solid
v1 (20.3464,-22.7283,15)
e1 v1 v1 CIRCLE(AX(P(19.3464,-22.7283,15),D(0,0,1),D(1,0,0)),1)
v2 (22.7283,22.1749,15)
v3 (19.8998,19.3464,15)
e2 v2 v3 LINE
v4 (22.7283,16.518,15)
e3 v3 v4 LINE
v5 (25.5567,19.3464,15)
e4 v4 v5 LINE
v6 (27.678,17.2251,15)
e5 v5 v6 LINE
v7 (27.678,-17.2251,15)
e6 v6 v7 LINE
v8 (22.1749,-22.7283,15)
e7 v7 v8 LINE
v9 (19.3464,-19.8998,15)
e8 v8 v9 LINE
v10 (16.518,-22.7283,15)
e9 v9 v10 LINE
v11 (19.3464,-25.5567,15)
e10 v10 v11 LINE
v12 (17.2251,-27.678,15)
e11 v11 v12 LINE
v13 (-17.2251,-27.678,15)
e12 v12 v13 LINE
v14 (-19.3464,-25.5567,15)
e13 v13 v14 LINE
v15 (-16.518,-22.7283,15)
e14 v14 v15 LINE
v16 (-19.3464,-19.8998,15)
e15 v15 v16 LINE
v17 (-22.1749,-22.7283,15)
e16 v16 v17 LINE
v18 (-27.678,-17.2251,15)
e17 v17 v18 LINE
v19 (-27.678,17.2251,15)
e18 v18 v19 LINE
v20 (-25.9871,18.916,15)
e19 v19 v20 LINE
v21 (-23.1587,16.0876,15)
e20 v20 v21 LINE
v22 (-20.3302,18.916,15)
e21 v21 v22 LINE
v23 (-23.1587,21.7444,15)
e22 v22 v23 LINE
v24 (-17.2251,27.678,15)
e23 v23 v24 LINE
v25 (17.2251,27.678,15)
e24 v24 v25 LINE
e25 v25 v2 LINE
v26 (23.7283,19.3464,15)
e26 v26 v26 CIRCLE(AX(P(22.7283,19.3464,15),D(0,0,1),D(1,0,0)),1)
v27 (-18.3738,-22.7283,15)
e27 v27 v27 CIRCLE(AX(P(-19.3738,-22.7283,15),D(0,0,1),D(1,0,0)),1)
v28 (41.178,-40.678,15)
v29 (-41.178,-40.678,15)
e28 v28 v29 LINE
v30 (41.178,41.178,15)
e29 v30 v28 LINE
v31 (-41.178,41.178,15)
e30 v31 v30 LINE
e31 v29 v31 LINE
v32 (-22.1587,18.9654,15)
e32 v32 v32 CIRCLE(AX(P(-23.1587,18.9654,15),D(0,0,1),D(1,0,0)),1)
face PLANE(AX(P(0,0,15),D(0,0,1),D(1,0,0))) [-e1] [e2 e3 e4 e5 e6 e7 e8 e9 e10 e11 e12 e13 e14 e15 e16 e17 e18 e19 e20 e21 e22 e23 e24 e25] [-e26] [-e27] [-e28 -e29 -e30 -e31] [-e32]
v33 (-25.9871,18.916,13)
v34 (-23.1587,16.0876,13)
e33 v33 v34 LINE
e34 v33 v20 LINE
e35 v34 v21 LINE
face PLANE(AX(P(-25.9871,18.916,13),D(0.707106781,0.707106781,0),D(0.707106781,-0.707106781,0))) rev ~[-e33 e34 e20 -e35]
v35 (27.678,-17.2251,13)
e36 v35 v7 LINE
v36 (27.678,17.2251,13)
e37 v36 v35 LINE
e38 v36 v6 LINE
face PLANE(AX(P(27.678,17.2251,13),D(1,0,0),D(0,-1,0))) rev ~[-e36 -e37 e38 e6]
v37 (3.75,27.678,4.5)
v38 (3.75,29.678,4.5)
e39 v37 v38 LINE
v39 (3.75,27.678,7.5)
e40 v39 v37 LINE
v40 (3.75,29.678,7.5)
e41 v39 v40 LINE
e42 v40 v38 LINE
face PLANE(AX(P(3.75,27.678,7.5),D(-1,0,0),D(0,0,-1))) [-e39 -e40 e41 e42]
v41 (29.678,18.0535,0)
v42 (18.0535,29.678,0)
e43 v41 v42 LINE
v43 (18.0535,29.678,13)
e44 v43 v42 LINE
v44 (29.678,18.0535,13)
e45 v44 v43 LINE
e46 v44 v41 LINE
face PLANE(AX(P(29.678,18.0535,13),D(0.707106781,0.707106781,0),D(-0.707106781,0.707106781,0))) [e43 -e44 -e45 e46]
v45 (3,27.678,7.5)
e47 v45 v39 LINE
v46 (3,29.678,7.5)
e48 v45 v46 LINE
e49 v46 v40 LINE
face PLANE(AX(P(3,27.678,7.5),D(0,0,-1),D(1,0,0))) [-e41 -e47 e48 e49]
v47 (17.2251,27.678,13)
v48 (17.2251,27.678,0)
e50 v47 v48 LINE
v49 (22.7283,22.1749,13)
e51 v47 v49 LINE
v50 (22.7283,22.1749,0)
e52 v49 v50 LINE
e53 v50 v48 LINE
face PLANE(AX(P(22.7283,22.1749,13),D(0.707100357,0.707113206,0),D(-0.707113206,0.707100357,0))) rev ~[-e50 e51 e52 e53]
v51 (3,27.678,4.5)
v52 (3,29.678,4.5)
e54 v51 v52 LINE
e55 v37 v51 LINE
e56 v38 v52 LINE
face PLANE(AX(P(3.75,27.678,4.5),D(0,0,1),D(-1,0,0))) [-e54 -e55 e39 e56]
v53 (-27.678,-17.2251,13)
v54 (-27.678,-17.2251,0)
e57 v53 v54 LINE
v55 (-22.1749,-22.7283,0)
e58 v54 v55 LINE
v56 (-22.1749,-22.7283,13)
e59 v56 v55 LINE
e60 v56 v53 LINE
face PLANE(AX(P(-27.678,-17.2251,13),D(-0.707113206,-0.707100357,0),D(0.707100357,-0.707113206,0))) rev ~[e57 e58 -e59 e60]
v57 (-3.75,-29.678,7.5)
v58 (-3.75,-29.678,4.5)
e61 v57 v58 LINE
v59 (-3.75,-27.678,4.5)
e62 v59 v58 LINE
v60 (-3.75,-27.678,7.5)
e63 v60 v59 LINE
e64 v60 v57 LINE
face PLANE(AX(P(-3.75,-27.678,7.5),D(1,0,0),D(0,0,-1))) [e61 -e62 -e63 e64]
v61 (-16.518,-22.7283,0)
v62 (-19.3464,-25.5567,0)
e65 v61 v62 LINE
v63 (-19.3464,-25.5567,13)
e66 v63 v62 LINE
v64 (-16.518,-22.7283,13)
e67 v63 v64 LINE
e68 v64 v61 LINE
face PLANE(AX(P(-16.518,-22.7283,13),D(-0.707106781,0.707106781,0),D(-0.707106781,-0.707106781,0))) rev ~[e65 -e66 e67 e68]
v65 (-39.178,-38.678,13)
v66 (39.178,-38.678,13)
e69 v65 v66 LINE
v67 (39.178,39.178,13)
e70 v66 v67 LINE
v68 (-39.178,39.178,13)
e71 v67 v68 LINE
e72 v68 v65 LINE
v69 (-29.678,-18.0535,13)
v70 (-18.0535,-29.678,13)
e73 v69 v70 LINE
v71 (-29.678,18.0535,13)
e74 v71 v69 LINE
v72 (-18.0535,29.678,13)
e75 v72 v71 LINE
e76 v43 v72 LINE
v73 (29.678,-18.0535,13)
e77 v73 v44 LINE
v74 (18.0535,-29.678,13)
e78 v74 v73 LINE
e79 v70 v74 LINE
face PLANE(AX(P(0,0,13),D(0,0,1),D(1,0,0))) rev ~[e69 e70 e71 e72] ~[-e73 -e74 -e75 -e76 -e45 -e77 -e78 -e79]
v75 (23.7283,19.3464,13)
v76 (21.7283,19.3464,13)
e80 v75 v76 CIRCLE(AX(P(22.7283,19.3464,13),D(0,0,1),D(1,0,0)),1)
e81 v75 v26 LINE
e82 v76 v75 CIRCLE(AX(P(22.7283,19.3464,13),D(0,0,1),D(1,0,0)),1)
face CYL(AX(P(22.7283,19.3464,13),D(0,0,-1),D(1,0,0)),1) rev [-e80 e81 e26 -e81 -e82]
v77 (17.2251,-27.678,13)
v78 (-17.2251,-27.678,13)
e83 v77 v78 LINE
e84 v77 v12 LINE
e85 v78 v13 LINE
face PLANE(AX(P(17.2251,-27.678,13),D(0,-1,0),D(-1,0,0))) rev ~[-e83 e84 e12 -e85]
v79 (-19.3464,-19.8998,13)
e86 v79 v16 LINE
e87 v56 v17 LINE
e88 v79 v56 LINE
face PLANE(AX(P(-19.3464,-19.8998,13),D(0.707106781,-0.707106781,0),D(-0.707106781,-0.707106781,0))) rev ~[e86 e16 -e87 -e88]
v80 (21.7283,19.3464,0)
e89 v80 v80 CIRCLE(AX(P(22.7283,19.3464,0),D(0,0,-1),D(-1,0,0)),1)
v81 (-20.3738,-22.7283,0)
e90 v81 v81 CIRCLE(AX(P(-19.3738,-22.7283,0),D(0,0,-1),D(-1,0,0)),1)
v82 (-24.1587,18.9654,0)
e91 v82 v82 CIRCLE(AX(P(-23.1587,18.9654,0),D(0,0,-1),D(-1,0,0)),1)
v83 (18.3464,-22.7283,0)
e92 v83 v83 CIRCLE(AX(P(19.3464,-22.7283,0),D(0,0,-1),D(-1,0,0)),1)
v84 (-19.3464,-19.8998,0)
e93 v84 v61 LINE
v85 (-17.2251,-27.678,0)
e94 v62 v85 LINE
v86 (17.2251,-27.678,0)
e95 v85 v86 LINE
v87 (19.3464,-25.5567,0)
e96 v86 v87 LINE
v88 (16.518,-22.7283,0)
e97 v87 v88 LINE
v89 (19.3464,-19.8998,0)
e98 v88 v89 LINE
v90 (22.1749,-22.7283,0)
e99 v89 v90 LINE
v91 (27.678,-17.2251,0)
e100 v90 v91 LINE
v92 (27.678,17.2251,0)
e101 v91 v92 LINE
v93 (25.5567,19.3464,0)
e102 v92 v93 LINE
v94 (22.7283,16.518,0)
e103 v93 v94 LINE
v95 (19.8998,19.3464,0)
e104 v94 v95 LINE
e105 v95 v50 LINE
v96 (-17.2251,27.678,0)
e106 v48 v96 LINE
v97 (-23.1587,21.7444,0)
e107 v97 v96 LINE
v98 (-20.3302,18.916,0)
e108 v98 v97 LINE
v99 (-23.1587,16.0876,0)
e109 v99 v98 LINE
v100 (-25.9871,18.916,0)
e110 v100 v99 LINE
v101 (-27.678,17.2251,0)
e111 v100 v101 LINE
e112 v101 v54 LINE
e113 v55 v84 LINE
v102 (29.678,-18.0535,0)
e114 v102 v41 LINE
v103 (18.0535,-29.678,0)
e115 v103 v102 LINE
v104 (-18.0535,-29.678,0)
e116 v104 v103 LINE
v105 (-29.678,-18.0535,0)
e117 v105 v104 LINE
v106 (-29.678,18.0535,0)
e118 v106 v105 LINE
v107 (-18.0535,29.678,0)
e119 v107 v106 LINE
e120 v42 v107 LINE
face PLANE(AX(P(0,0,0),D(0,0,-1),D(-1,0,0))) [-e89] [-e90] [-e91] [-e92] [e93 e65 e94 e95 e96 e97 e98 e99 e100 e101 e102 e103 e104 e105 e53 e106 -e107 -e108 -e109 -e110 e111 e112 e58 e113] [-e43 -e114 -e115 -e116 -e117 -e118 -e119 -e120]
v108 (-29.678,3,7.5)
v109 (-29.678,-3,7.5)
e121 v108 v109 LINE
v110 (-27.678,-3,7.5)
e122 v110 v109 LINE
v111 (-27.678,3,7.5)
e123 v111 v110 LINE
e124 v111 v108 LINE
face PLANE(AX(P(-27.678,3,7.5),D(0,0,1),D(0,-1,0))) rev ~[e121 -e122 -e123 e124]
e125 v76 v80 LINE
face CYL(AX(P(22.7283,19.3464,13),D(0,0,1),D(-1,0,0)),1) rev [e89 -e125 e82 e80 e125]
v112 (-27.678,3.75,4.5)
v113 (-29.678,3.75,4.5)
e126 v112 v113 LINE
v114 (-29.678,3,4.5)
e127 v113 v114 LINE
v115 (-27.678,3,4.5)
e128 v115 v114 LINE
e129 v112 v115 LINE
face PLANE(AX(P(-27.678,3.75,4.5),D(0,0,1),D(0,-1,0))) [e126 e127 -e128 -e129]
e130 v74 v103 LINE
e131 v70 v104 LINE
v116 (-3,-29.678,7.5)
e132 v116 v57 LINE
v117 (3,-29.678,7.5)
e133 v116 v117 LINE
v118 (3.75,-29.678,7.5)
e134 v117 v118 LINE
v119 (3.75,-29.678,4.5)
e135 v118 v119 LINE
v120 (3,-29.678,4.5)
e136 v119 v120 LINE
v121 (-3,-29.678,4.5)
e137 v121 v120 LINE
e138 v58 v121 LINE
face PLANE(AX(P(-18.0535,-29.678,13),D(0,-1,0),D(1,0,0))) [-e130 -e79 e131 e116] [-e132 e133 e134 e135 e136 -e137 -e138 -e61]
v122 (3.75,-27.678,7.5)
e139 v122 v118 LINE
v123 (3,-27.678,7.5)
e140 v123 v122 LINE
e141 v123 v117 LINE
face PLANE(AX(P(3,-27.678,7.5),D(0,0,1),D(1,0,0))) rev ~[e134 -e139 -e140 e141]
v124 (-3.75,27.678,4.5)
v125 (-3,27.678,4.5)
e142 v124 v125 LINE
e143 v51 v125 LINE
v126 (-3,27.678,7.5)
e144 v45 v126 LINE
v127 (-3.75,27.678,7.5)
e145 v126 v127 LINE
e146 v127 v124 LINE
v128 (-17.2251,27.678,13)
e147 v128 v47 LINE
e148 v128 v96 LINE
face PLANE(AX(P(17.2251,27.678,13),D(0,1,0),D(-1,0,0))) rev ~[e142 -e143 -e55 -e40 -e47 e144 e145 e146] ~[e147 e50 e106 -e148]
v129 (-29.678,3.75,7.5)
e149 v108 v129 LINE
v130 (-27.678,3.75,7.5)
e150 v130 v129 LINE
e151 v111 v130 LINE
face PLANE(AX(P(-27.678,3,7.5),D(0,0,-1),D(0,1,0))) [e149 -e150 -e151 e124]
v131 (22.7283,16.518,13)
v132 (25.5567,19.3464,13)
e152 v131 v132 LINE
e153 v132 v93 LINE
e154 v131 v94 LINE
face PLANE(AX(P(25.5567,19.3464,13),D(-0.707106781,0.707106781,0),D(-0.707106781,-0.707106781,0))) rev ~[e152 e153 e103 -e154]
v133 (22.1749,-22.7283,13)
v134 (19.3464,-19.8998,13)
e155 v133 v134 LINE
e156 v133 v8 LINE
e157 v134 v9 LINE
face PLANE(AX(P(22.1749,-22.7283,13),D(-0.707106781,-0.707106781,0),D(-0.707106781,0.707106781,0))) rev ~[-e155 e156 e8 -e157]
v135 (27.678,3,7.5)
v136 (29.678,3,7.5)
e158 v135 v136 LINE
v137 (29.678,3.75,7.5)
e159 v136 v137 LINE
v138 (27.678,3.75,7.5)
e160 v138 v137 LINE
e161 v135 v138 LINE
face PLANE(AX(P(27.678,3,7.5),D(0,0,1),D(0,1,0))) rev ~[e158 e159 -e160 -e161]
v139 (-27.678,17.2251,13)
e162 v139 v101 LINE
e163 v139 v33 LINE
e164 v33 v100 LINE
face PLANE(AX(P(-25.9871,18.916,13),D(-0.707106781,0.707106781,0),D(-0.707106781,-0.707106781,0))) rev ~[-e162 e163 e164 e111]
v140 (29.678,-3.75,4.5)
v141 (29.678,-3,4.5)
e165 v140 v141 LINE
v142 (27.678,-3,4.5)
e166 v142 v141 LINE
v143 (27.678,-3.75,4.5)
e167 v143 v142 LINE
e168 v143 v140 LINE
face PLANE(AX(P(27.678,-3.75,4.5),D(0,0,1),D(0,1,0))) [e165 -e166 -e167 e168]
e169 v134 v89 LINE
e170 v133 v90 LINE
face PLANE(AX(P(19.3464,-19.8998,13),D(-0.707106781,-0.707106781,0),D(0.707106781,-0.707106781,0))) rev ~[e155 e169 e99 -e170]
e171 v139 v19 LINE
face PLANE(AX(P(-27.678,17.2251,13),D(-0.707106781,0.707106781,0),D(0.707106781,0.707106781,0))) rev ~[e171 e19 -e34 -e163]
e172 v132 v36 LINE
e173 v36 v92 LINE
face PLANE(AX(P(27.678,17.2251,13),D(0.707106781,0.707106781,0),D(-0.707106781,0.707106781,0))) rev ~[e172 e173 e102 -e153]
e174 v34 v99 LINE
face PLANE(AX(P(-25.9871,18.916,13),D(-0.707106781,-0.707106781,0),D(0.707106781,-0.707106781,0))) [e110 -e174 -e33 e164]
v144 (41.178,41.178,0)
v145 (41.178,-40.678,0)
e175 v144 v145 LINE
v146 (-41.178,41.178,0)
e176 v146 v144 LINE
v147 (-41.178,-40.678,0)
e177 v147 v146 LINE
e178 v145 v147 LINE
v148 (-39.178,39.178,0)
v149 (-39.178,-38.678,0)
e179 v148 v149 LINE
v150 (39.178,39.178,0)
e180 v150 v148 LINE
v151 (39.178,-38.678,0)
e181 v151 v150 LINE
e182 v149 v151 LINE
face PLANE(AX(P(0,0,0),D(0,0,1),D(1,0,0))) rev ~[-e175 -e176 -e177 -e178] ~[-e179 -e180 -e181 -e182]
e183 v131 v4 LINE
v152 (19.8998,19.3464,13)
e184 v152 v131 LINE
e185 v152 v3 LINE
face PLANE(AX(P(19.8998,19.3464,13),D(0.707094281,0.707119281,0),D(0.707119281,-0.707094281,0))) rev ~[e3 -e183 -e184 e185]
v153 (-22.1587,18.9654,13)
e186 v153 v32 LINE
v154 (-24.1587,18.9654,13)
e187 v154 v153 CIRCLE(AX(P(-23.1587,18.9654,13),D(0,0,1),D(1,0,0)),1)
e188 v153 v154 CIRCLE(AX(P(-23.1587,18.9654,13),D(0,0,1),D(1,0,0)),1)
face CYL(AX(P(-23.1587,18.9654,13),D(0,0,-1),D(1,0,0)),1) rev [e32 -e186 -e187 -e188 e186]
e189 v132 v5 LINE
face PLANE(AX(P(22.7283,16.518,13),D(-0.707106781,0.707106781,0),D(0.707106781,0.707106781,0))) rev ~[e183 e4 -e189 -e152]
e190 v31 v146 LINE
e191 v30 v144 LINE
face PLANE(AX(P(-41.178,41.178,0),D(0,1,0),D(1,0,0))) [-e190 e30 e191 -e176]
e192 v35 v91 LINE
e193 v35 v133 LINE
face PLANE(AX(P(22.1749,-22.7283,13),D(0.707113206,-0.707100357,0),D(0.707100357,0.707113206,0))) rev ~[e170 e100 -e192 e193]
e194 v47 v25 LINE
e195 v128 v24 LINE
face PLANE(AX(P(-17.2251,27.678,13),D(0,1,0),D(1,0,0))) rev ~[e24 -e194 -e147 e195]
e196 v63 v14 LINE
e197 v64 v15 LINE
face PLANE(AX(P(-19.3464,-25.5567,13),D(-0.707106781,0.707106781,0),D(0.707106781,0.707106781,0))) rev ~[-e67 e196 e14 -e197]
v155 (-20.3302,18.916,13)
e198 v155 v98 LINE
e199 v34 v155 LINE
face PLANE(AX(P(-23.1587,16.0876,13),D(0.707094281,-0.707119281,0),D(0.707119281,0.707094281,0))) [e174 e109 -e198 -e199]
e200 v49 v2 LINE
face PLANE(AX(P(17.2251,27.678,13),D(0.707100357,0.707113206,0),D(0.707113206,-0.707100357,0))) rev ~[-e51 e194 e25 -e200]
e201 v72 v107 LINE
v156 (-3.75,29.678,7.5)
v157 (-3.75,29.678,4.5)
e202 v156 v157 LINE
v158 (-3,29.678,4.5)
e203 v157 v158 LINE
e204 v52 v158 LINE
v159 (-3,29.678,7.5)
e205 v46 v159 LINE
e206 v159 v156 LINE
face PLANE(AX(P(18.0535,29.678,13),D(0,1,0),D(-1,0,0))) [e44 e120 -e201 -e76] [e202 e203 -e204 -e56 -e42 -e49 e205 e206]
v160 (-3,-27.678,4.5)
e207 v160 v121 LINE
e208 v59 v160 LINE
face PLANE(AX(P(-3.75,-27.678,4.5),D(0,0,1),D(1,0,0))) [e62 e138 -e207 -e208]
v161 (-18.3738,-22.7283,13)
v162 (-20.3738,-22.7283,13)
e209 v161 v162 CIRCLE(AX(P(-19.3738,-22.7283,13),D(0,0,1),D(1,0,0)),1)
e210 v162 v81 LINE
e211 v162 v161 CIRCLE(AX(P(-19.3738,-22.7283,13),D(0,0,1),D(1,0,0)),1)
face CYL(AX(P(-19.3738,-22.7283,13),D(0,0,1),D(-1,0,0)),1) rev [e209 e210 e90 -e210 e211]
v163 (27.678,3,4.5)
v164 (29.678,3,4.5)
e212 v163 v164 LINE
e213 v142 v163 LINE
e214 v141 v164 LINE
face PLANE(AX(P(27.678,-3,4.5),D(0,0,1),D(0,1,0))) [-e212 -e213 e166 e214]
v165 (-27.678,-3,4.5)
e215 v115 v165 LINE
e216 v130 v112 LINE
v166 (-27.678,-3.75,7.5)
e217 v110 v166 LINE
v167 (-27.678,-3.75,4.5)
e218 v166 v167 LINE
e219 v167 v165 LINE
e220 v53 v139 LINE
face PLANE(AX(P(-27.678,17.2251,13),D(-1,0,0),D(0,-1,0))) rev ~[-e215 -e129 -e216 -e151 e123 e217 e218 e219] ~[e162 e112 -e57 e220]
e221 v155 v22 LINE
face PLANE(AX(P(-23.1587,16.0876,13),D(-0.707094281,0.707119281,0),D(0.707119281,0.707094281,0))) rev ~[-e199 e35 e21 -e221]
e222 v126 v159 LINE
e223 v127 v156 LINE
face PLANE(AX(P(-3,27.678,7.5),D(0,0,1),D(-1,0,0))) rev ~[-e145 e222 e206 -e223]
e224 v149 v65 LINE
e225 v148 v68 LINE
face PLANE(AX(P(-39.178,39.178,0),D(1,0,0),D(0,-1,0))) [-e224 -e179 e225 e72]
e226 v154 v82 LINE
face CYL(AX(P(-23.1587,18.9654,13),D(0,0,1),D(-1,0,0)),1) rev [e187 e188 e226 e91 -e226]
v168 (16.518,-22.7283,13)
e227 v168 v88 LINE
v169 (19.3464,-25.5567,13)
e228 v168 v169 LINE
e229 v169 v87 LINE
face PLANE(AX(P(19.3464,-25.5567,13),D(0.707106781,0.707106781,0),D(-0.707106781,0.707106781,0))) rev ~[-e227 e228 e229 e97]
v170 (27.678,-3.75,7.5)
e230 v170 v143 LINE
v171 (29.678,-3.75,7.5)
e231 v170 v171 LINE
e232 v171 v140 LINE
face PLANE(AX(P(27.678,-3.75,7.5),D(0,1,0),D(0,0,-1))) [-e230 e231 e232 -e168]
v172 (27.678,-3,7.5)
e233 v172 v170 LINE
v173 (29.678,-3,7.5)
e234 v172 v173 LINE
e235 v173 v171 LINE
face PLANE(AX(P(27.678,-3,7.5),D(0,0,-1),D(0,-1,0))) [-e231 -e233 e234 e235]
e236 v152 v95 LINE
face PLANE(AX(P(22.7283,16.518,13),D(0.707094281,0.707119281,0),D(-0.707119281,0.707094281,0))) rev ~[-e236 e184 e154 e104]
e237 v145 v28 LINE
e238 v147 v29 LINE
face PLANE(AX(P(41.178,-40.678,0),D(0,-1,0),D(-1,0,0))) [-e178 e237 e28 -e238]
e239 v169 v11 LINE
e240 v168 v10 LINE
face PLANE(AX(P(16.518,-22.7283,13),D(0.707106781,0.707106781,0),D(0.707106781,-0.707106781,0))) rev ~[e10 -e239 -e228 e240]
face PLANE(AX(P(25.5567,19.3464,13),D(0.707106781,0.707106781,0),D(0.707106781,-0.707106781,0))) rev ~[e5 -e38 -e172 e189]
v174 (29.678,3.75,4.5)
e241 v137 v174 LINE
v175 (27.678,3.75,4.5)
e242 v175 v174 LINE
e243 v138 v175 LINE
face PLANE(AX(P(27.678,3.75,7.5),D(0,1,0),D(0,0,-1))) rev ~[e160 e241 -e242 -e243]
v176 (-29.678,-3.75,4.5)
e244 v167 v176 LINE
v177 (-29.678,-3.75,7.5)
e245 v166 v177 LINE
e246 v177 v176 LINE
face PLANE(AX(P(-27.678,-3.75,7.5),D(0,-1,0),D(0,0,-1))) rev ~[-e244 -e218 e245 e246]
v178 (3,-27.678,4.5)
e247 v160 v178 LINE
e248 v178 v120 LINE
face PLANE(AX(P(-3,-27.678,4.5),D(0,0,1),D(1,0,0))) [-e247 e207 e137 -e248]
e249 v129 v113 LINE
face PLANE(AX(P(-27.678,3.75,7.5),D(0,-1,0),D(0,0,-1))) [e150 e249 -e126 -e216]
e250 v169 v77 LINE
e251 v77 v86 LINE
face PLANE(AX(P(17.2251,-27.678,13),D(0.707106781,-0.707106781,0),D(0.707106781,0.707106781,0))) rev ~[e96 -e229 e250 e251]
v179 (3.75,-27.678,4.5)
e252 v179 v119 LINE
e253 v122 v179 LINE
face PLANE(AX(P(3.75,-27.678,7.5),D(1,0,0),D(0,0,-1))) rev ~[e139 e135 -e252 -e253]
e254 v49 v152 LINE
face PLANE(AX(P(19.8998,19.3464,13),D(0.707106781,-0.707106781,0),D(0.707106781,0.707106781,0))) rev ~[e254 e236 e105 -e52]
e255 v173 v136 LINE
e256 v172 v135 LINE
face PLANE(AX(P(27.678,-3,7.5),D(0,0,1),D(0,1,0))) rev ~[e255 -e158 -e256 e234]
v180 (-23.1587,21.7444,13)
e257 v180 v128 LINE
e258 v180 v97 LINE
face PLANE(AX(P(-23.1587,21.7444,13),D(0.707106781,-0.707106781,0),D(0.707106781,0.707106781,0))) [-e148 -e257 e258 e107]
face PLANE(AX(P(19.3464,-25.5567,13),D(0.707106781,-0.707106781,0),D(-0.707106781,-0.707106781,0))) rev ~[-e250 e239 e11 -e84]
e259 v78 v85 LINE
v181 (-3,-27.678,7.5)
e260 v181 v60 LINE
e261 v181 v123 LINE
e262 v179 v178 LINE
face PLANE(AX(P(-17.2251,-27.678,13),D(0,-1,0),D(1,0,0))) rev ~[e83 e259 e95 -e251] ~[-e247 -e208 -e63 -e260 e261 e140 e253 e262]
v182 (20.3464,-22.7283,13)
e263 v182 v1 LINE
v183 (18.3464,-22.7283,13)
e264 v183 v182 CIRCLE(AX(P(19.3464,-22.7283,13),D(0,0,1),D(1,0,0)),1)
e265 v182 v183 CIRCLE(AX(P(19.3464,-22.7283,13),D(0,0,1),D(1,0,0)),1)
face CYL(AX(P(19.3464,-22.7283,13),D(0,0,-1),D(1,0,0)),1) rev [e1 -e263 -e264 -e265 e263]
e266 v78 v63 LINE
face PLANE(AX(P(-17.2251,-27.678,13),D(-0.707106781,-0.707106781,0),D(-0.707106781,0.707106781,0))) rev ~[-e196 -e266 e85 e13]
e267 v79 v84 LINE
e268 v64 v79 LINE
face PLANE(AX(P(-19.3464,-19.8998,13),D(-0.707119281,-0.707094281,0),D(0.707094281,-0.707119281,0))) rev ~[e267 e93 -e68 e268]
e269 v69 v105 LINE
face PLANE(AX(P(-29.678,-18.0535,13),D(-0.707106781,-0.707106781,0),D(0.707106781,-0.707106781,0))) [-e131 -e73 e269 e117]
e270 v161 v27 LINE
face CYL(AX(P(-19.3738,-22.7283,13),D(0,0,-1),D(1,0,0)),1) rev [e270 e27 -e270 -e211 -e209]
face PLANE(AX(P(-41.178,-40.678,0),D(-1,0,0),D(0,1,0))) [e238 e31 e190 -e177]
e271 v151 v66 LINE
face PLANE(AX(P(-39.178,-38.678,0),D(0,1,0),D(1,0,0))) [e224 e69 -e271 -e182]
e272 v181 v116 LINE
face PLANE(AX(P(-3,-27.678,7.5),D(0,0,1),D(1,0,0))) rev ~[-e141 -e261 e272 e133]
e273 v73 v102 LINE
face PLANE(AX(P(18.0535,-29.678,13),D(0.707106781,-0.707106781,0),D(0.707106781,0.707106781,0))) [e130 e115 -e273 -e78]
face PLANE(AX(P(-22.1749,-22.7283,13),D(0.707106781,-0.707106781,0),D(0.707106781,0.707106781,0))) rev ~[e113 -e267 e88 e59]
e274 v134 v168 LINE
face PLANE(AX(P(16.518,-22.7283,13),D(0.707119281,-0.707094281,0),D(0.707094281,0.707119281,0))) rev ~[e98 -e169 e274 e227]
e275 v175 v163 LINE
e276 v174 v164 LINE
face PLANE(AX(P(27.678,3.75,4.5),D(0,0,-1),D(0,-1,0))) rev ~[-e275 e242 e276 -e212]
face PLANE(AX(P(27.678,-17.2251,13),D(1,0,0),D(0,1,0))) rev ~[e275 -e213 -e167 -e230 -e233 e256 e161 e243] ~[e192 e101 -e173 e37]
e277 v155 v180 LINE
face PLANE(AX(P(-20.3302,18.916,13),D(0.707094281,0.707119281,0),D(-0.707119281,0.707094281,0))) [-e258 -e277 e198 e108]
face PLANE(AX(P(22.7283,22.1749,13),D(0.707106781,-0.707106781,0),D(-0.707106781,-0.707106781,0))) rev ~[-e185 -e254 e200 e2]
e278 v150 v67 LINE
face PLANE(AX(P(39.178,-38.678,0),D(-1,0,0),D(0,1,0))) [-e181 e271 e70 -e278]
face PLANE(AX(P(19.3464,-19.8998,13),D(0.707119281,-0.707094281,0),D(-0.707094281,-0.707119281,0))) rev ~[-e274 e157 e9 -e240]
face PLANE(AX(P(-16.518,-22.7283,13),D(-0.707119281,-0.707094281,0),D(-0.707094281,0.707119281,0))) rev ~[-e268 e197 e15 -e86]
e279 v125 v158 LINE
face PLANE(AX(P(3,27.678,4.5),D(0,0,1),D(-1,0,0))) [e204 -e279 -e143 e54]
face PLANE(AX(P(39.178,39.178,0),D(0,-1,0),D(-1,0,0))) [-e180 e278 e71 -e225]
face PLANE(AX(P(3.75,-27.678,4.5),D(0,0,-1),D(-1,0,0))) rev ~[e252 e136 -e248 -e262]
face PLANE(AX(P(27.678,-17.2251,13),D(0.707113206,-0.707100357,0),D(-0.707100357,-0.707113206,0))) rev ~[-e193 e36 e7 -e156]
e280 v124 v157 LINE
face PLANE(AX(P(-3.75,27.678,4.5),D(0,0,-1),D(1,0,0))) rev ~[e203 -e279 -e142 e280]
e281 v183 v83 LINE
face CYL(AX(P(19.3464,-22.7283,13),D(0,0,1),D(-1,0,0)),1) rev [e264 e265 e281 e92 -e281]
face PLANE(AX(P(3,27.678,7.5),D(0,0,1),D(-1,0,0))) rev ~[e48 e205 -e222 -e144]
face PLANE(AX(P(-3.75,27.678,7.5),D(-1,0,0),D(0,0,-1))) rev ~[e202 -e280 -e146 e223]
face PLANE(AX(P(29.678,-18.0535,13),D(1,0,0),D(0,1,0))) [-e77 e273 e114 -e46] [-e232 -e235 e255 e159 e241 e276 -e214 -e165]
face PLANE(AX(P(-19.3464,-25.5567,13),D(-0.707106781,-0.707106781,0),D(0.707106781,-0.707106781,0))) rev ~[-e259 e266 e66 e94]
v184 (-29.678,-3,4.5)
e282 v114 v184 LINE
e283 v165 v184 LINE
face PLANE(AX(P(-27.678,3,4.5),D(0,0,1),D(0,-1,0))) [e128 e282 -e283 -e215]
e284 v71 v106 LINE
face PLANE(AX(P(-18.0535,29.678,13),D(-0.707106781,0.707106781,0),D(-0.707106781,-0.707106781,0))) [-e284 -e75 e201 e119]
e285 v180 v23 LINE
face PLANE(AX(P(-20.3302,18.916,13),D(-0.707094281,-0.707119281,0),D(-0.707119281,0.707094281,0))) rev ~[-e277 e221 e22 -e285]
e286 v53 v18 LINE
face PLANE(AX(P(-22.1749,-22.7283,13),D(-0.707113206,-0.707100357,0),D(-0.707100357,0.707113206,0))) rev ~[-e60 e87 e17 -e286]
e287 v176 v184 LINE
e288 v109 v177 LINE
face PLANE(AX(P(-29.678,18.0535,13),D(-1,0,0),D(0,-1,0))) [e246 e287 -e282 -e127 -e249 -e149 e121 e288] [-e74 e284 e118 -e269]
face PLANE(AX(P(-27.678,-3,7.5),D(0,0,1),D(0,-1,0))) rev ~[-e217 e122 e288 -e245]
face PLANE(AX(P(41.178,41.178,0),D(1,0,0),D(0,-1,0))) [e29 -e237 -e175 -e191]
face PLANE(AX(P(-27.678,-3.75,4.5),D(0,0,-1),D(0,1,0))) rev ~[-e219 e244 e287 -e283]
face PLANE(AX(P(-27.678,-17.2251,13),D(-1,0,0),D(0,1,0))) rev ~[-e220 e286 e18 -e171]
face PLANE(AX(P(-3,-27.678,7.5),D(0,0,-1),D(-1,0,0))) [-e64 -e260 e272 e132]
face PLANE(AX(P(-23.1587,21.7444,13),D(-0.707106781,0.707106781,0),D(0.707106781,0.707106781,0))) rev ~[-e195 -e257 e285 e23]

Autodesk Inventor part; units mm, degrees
ref_plane "YZ Plane" through (0, 0, 0) normal (1, 0, 0) x (0, 1, 0)
ref_plane "XZ Plane" through (0, 0, 0) normal (0, 1, 0) x (-1, 0, 0)
sketch "Эскиз1" plane through (0, 0, 0) normal (0, 0, 1) x (1, 0, 0)
  circle A0 centre (0, 31.678) radius 1.5 construction
  circle A1 centre (31.678, 0) radius 1.5 construction
  circle A2 centre (-31.678, 0) radius 1.5 construction
  circle A3 centre (0, -31.678) radius 1.5 construction
  line L0 (21.7815, 38.678) -> (-21.7815, 38.678) construction
  line L1 (-21.7815, 38.678) -> (-38.678, 21.7815) construction
  line L2 (-38.678, 21.7815) -> (-38.678, -21.7815) construction
  line L3 (-38.678, -21.7815) -> (-21.7815, -38.678) construction
  line L4 (-21.7815, -38.678) -> (21.7815, -38.678) construction
  line L5 (21.7815, -38.678) -> (38.678, -21.7815) construction
  line L6 (38.678, -21.7815) -> (38.678, 21.7815) construction
  line L7 (38.678, 21.7815) -> (21.7815, 38.678) construction
  line L8 (17.2251, 27.678) -> (22.7283, 22.1749) construction
  line L9 (22.7283, 22.1749) -> (19.8998, 19.3464) construction
  line L10 (19.8998, 19.3464) -> (22.7283, 16.518) construction
  line L11 (22.7283, 16.518) -> (25.5567, 19.3464) construction
  line L12 (25.5567, 19.3464) -> (27.678, 17.2251) construction
  line L13 (27.678, 17.2251) -> (27.678, -17.2251) construction
  line L14 (27.678, -17.2251) -> (22.1749, -22.7283) construction
  line L15 (22.1749, -22.7283) -> (19.3464, -19.8998) construction
  line L16 (19.3464, -19.8998) -> (16.518, -22.7283) construction
  line L17 (16.518, -22.7283) -> (19.3464, -25.5567) construction
  line L18 (19.3464, -25.5567) -> (17.2251, -27.678) construction
  line L19 (17.2251, -27.678) -> (-17.2251, -27.678) construction
  line L20 (-17.2251, -27.678) -> (-19.3464, -25.5567) construction
  line L21 (-19.3464, -25.5567) -> (-16.518, -22.7283) construction
  line L22 (-16.518, -22.7283) -> (-19.3464, -19.8998) construction
  line L23 (-19.3464, -19.8998) -> (-22.1749, -22.7283) construction
  line L24 (-22.1749, -22.7283) -> (-27.678, -17.2251) construction
  line L25 (-27.678, -17.2251) -> (-27.678, 17.2251) construction
  line L26 (-27.678, 17.2251) -> (-25.9871, 18.916) construction
  line L27 (-17.2251, 27.678) -> (17.2251, 27.678) construction
  circle A4 centre (-5, -30.678) radius 1.5 construction
  circle A5 centre (-30.678, 5) radius 1.5 construction
  circle A6 centre (5, 30.678) radius 1.5 construction
  circle A7 centre (30.678, -5) radius 1.5 construction
  line L28 (38.678, 38.678) -> (-38.678, 38.678) construction
  line L29 (-38.678, 38.678) -> (-38.678, -38.178) construction
  line L30 (-38.678, -38.178) -> (38.678, -38.178) construction
  line L31 (38.678, -38.178) -> (38.678, 38.678) construction
  line L32 (-41.178, -40.678) -> (-41.178, 41.178)
  line L33 (-41.178, 41.178) -> (41.178, 41.178)
  line L34 (41.178, 41.178) -> (41.178, -40.678)
  line L35 (41.178, -40.678) -> (-41.178, -40.678)
  line L36 (-39.178, 39.178) -> (-39.178, -38.678)
  line L37 (-39.178, -38.678) -> (39.178, -38.678)
  line L38 (39.178, -38.678) -> (39.178, 39.178)
  line L39 (39.178, 39.178) -> (-39.178, 39.178)
  circle A8 centre (22.7283, 19.3419) radius 1 projected
  circle A9 centre (-19.3738, -22.7283) radius 1 projected
  circle A10 centre (19.3407, -22.734) radius 1 projected
  circle A11 centre (-23.1587, 18.9654) radius 1 projected
  line L40 (-25.9871, 18.916) -> (-23.1587, 16.0876) projected
  line L41 (-23.1587, 16.0876) -> (-20.3302, 18.916) projected
  line L42 (-20.3302, 18.916) -> (-23.1587, 21.7444) projected
  line L43 (-23.1587, 21.7444) -> (-17.2251, 27.678) projected
  point P0 (0, 0)
  dimension "d0" = 2.5
  dimension "d1" = 2
extrude "Выдавливание1" add sketch "Эскиз1" along normal blind 13 contours L32 L33 L34 L35
sketch "Эскиз2" plane through (0, 0, 13) normal (0, 0, 1) x (1, 0, 0)
  line L0 (41.178, -40.678) -> (-41.178, -40.678)
  line L1 (-41.178, -40.678) -> (-41.178, 41.178)
  line L2 (-41.178, 41.178) -> (41.178, 41.178)
  line L3 (41.178, 41.178) -> (41.178, -40.678)
  circle A0 centre (0, 31.678) radius 1.5 construction
  circle A1 centre (31.678, 0) radius 1.5 construction
  circle A2 centre (-31.678, 0) radius 1.5 construction
  circle A3 centre (0, -31.678) radius 1.5 construction
  line L4 (21.7815, 38.678) -> (-21.7815, 38.678) construction
  line L5 (-21.7815, 38.678) -> (-38.678, 21.7815) construction
  line L6 (-38.678, 21.7815) -> (-38.678, -21.7815) construction
  line L7 (-38.678, -21.7815) -> (-21.7815, -38.678) construction
  line L8 (-21.7815, -38.678) -> (21.7815, -38.678) construction
  line L9 (21.7815, -38.678) -> (38.678, -21.7815) construction
  line L10 (38.678, -21.7815) -> (38.678, 21.7815) construction
  line L11 (38.678, 21.7815) -> (21.7815, 38.678) construction
  line L12 (17.2251, 27.678) -> (22.7283, 22.1749) construction
  line L13 (22.7283, 22.1749) -> (19.8998, 19.3464) construction
  line L14 (19.8998, 19.3464) -> (22.7283, 16.518) construction
  line L15 (22.7283, 16.518) -> (25.5567, 19.3464) construction
  line L16 (25.5567, 19.3464) -> (27.678, 17.2251) construction
  line L17 (27.678, 17.2251) -> (27.678, -17.2251) construction
  line L18 (27.678, -17.2251) -> (22.1749, -22.7283) construction
  line L19 (22.1749, -22.7283) -> (19.3464, -19.8998) construction
  line L20 (19.3464, -19.8998) -> (16.518, -22.7283) construction
  line L21 (16.518, -22.7283) -> (19.3464, -25.5567) construction
  line L22 (19.3464, -25.5567) -> (17.2251, -27.678) construction
  line L23 (17.2251, -27.678) -> (-17.2251, -27.678) construction
  line L24 (-17.2251, -27.678) -> (-19.3464, -25.5567) construction
  line L25 (-19.3464, -25.5567) -> (-16.518, -22.7283) construction
  line L26 (-16.518, -22.7283) -> (-19.3464, -19.8998) construction
  line L27 (-19.3464, -19.8998) -> (-22.1749, -22.7283) construction
  line L28 (-22.1749, -22.7283) -> (-27.678, -17.2251) construction
  line L29 (-27.678, -17.2251) -> (-27.678, 17.2251) construction
  line L30 (-27.678, 17.2251) -> (-17.2251, 27.678) construction
  line L31 (-17.2251, 27.678) -> (17.2251, 27.678) construction
  circle A4 centre (-5, -30.678) radius 1.5 construction
  circle A5 centre (-30.678, 5) radius 1.5 construction
  circle A6 centre (5, 30.678) radius 1.5 construction
  circle A7 centre (30.678, -5) radius 1.5 construction
  circle A8 centre (0, 31.678) radius 1.5 construction
  circle A9 centre (31.678, 0) radius 1.5 construction
  circle A10 centre (-31.678, 0) radius 1.5 construction
  circle A11 centre (0, -31.678) radius 1.5 construction
  line L32 (21.7815, 38.678) -> (-21.7815, 38.678) construction
  line L33 (-21.7815, 38.678) -> (-38.678, 21.7815) construction
  line L34 (-38.678, 21.7815) -> (-38.678, -21.7815) construction
  line L35 (-38.678, -21.7815) -> (-21.7815, -38.678) construction
  line L36 (-21.7815, -38.678) -> (21.7815, -38.678) construction
  line L37 (21.7815, -38.678) -> (38.678, -21.7815) construction
  line L38 (38.678, -21.7815) -> (38.678, 21.7815) construction
  line L39 (38.678, 21.7815) -> (21.7815, 38.678) construction
  line L40 (17.2251, 27.678) -> (22.7283, 22.1749)
  line L41 (22.7283, 22.1749) -> (19.8998, 19.3464)
  line L42 (19.8998, 19.3464) -> (22.7283, 16.518)
  line L43 (22.7283, 16.518) -> (25.5567, 19.3464)
  line L44 (25.5567, 19.3464) -> (27.678, 17.2251)
  line L45 (27.678, 17.2251) -> (27.678, -17.2251)
  line L46 (27.678, -17.2251) -> (22.1749, -22.7283)
  line L47 (22.1749, -22.7283) -> (19.3464, -19.8998)
  line L48 (19.3464, -19.8998) -> (16.518, -22.7283)
  line L49 (16.518, -22.7283) -> (19.3464, -25.5567)
  line L50 (19.3464, -25.5567) -> (17.2251, -27.678)
  line L51 (17.2251, -27.678) -> (-17.2251, -27.678)
  line L52 (-17.2251, -27.678) -> (-19.3464, -25.5567)
  line L53 (-19.3464, -25.5567) -> (-16.518, -22.7283)
  line L54 (-16.518, -22.7283) -> (-19.3464, -19.8998)
  line L55 (-19.3464, -19.8998) -> (-22.1749, -22.7283)
  line L56 (-22.1749, -22.7283) -> (-27.678, -17.2251)
  line L57 (-27.678, -17.2251) -> (-27.678, 17.2251)
  line L58 (-27.678, 17.2251) -> (-17.2251, 27.678)
  line L59 (-17.2251, 27.678) -> (17.2251, 27.678)
  circle A12 centre (-5, -30.678) radius 1.5 construction
  circle A13 centre (-30.678, 5) radius 1.5 construction
  circle A14 centre (5, 30.678) radius 1.5 construction
  circle A15 centre (30.678, -5) radius 1.5 construction
  circle A16 centre (19.3464, -22.7283) radius 1
  circle A17 centre (22.7283, 19.3464) radius 1
  line L60 (-25.9871, 18.916) -> (-23.1587, 16.0876)
  line L61 (-23.1587, 16.0876) -> (-20.3302, 18.916)
  line L62 (-20.3302, 18.916) -> (-23.1587, 21.7444)
  circle A18 centre (-23.1587, 18.9654) radius 1
  circle A19 centre (-19.3738, -22.7283) radius 1
  point P0 (0, 0)
extrude "Выдавливание2" add sketch "Эскиз2" along normal blind 2 contours L0 L1 L2 L3 | L62 L61 L60 L58
sketch "Эскиз3" plane through (0, 0, 13) normal (0, 0, -1) x (-1, 0, 0)
  circle A0 centre (0, 31.678) radius 1.5 construction
  circle A1 centre (-31.678, 0) radius 1.5 construction
  circle A2 centre (31.678, 0) radius 1.5 construction
  circle A3 centre (0, -31.678) radius 1.5 construction
  line L0 (-21.7815, 38.678) -> (21.7815, 38.678) construction
  line L1 (-38.678, 21.7815) -> (-21.7815, 38.678) construction
  line L2 (-38.678, -21.7815) -> (-38.678, 21.7815) construction
  line L3 (-21.7815, -38.678) -> (-38.678, -21.7815) construction
  line L4 (21.7815, -38.678) -> (-21.7815, -38.678) construction
  line L5 (38.678, -21.7815) -> (21.7815, -38.678) construction
  line L6 (38.678, 21.7815) -> (38.678, -21.7815) construction
  line L7 (21.7815, 38.678) -> (38.678, 21.7815) construction
  line L8 (-17.2251, 27.678) -> (-22.7283, 22.1749) construction
  line L9 (17.2251, 27.678) -> (-17.2251, 27.678) construction
  line L10 (27.678, 17.2251) -> (25.9871, 18.916) construction
  line L11 (27.678, -17.2251) -> (27.678, 17.2251) construction
  line L12 (22.1749, -22.7283) -> (27.678, -17.2251) construction
  line L13 (19.3464, -25.5567) -> (22.1749, -22.7283) construction
  line L14 (17.2251, -27.678) -> (19.3464, -25.5567) construction
  line L15 (-17.2251, -27.678) -> (17.2251, -27.678) construction
  line L16 (-19.3464, -25.5567) -> (-17.2251, -27.678) construction
  line L17 (-22.1749, -22.7283) -> (-19.3464, -25.5567) construction
  line L18 (-27.678, -17.2251) -> (-22.1749, -22.7283) construction
  line L19 (-27.678, 17.2251) -> (-27.678, -17.2251) construction
  line L20 (-25.5567, 19.3464) -> (-27.678, 17.2251) construction
  line L21 (-22.7283, 22.1749) -> (-25.5567, 19.3464) construction
  circle A4 centre (5, -30.678) radius 1.5 construction
  circle A5 centre (30.678, 5) radius 1.5 construction
  circle A6 centre (-5, 30.678) radius 1.5 construction
  circle A7 centre (-30.678, -5) radius 1.5 construction
  line L22 (18.0535, -29.678) -> (-18.0535, -29.678)
  line L23 (-18.0535, -29.678) -> (-29.678, -18.0535)
  line L24 (-29.678, -18.0535) -> (-29.678, 18.0535)
  line L25 (-29.678, 18.0535) -> (-18.0535, 29.678)
  line L26 (-18.0535, 29.678) -> (18.0535, 29.678)
  line L27 (18.0535, 29.678) -> (29.678, 18.0535)
  line L28 (29.678, 18.0535) -> (29.678, -18.0535)
  line L29 (29.678, -18.0535) -> (18.0535, -29.678)
  line L30 (17.2251, -27.678) -> (-17.2251, -27.678)
  line L31 (-27.678, -17.2251) -> (-27.678, 17.2251)
  line L32 (-17.2251, 27.678) -> (17.2251, 27.678)
  line L33 (27.678, 17.2251) -> (27.678, -17.2251)
  line L34 (16.518, -22.7283) -> (19.3464, -25.5567) projected
  line L35 (19.3464, -19.8998) -> (16.518, -22.7283) projected
  line L36 (22.1749, -22.7283) -> (19.3464, -19.8998) projected
  line L37 (-25.5567, 19.3464) -> (-22.7283, 16.518) projected
  line L38 (-22.7283, 16.518) -> (-19.8998, 19.3464) projected
  line L39 (-19.8998, 19.3464) -> (-22.7283, 22.1749) projected
  circle A8 centre (-22.7283, 19.3464) radius 1 projected
  line L40 (-19.3464, -25.5567) -> (-16.518, -22.7283) projected
  line L41 (-16.518, -22.7283) -> (-19.3464, -19.8998) projected
  line L42 (-19.3464, -19.8998) -> (-22.1749, -22.7283) projected
  circle A9 centre (-19.3464, -22.7283) radius 1 projected
  line L43 (27.678, -17.2251) -> (22.1749, -22.7283)
  line L44 (19.3464, -25.5567) -> (17.2251, -27.678)
  line L45 (-27.678, 17.2251) -> (-25.5567, 19.3464)
  line L46 (-22.7283, 22.1749) -> (-17.2251, 27.678)
  line L47 (-17.2251, -27.678) -> (-19.3464, -25.5567)
  line L48 (-22.1749, -22.7283) -> (-27.678, -17.2251)
  line L49 (23.1587, 21.7444) -> (17.2251, 27.678) projected
  line L50 (25.9871, 18.916) -> (23.1587, 21.7444) projected
  circle A10 centre (19.3738, -22.7283) radius 1 projected
  circle A11 centre (23.1587, 18.9654) radius 1 projected
  line L51 (20.3302, 18.916) -> (23.1587, 21.7444) projected
  line L52 (23.1587, 16.0876) -> (20.3302, 18.916) projected
  line L53 (25.9871, 18.916) -> (23.1587, 16.0876) projected
  line L54 (17.2251, 27.678) -> (23.1587, 21.7444)
  line L55 (25.9871, 18.916) -> (27.678, 17.2251)
  point P0 (0, 0)
  dimension "d9" = 9
ref_plane "РабПлоскость1" through (-38.678, -38.678, 0) normal (0, 0, 1) x (1, 0, 0)
extrude "Выдавливание3" add sketch "Эскиз3" along normal up to surface (13 mm away) contours L22 L23 L24 L25 L26 L27 L28 L29 | L53 L52 L51 L50
sketch "Эскиз4" plane through (-27.678, -17.2251, 15) normal (1, 0, 0) x (0, 0, -1)
  line L0 (10, 20.2251) -> (10, 14.2251) construction
  line L1 (10.5, 20.2251) -> (10.5, 14.2251)
  line L2 (7.5, 20.2251) -> (7.5, 14.2251)
  line L3 (15, 58.4031) -> (15, -23.4529) projected
  line L4 (7.5, 20.2251) -> (7.5, 20.9751)
  line L5 (7.5, 20.9751) -> (10.5, 20.9751)
  line L6 (10.5, 20.9751) -> (10.5, 20.2251)
  line L7 (7.5, 14.2251) -> (7.5, 13.4751)
  line L8 (7.5, 13.4751) -> (10.5, 13.4751)
  line L9 (10.5, 13.4751) -> (10.5, 14.2251)
  point P0 (15, 17.2251)
  dimension "d13" = 0.5
  dimension "d14" = 2.5
  dimension "d18" = 0.75
  dimension "d19" = 0.75
extrude "Выдавливание4" cut sketch "Эскиз4" against normal up to surface (2 mm away)
sketch "Эскиз5" plane through (-17.2251, 27.678, 15) normal (0, -1, 0) x (1, 0, 0)
  line L0 (20.2251, -10) -> (14.2251, -10) construction
  line L1 (20.2251, -10.5) -> (14.2251, -10.5)
  line L2 (20.2251, -7.5) -> (14.2251, -7.5)
  line L3 (20.2251, -7.5) -> (20.9751, -7.5)
  line L4 (20.9751, -7.5) -> (20.9751, -10.5)
  line L5 (20.9751, -10.5) -> (20.2251, -10.5)
  line L6 (14.2251, -7.5) -> (13.4751, -7.5)
  line L7 (13.4751, -7.5) -> (13.4751, -10.5)
  line L8 (13.4751, -10.5) -> (14.2251, -10.5)
  point P0 (17.2251, -15)
  dimension "d20" = 0.5
  dimension "d21" = 2.5
  dimension "d22" = 0.75
  dimension "d23" = 0.75
extrude "Выдавливание5" cut sketch "Эскиз5" against normal up to surface (2 mm away)
sketch "Эскиз6" plane through (27.678, -17.2251, 15) normal (-1, 0, 0) x (0, 0, 1)
  line L0 (-10, 14.2251) -> (-10, 20.2251) construction
  line L1 (-10.5, 14.2251) -> (-10.5, 20.2251)
  line L2 (-7.5, 14.2251) -> (-7.5, 20.2251)
  line L3 (-7.5, 14.2251) -> (-7.5, 13.4751)
  line L4 (-7.5, 13.4751) -> (-10.5, 13.4751)
  line L5 (-10.5, 13.4751) -> (-10.5, 14.2251)
  line L6 (-7.5, 20.2251) -> (-7.5, 20.9751)
  line L7 (-7.5, 20.9751) -> (-10.5, 20.9751)
  line L8 (-10.5, 20.9751) -> (-10.5, 20.2251)
  point P0 (-15, 17.2251)
  dimension "d26" = 0.5
  dimension "d27" = 2.5
  dimension "d28" = 0.75
  dimension "d29" = 0.75
extrude "Выдавливание6" cut sketch "Эскиз6" against normal up to surface (2 mm away)
sketch "Эскиз7" plane through (-17.2251, -27.678, 15) normal (0, 1, 0) x (1, 0, 0)
  line L0 (14.2251, 10) -> (20.2251, 10) construction
  line L1 (14.2251, 10.5) -> (20.2251, 10.5)
  line L2 (14.2251, 7.5) -> (20.2251, 7.5)
  line L3 (20.2251, 7.5) -> (20.9751, 7.5)
  line L4 (56.4031, 15) -> (-21.9529, 15) projected
  line L5 (20.9751, 7.5) -> (20.9751, 10.5)
  line L6 (20.9751, 10.5) -> (20.2251, 10.5)
  line L7 (14.2251, 7.5) -> (13.4751, 7.5)
  line L8 (13.4751, 7.5) -> (13.4751, 10.5)
  line L9 (13.4751, 10.5) -> (14.2251, 10.5)
  point P0 (17.2251, 15)
  dimension "d32" = 0.5
  dimension "d33" = 2.5
  dimension "d34" = 0.75
  dimension "d35" = 0.75
extrude "Выдавливание7" cut sketch "Эскиз7" against normal up to surface (2 mm away)
properties part number "Середина 2"
